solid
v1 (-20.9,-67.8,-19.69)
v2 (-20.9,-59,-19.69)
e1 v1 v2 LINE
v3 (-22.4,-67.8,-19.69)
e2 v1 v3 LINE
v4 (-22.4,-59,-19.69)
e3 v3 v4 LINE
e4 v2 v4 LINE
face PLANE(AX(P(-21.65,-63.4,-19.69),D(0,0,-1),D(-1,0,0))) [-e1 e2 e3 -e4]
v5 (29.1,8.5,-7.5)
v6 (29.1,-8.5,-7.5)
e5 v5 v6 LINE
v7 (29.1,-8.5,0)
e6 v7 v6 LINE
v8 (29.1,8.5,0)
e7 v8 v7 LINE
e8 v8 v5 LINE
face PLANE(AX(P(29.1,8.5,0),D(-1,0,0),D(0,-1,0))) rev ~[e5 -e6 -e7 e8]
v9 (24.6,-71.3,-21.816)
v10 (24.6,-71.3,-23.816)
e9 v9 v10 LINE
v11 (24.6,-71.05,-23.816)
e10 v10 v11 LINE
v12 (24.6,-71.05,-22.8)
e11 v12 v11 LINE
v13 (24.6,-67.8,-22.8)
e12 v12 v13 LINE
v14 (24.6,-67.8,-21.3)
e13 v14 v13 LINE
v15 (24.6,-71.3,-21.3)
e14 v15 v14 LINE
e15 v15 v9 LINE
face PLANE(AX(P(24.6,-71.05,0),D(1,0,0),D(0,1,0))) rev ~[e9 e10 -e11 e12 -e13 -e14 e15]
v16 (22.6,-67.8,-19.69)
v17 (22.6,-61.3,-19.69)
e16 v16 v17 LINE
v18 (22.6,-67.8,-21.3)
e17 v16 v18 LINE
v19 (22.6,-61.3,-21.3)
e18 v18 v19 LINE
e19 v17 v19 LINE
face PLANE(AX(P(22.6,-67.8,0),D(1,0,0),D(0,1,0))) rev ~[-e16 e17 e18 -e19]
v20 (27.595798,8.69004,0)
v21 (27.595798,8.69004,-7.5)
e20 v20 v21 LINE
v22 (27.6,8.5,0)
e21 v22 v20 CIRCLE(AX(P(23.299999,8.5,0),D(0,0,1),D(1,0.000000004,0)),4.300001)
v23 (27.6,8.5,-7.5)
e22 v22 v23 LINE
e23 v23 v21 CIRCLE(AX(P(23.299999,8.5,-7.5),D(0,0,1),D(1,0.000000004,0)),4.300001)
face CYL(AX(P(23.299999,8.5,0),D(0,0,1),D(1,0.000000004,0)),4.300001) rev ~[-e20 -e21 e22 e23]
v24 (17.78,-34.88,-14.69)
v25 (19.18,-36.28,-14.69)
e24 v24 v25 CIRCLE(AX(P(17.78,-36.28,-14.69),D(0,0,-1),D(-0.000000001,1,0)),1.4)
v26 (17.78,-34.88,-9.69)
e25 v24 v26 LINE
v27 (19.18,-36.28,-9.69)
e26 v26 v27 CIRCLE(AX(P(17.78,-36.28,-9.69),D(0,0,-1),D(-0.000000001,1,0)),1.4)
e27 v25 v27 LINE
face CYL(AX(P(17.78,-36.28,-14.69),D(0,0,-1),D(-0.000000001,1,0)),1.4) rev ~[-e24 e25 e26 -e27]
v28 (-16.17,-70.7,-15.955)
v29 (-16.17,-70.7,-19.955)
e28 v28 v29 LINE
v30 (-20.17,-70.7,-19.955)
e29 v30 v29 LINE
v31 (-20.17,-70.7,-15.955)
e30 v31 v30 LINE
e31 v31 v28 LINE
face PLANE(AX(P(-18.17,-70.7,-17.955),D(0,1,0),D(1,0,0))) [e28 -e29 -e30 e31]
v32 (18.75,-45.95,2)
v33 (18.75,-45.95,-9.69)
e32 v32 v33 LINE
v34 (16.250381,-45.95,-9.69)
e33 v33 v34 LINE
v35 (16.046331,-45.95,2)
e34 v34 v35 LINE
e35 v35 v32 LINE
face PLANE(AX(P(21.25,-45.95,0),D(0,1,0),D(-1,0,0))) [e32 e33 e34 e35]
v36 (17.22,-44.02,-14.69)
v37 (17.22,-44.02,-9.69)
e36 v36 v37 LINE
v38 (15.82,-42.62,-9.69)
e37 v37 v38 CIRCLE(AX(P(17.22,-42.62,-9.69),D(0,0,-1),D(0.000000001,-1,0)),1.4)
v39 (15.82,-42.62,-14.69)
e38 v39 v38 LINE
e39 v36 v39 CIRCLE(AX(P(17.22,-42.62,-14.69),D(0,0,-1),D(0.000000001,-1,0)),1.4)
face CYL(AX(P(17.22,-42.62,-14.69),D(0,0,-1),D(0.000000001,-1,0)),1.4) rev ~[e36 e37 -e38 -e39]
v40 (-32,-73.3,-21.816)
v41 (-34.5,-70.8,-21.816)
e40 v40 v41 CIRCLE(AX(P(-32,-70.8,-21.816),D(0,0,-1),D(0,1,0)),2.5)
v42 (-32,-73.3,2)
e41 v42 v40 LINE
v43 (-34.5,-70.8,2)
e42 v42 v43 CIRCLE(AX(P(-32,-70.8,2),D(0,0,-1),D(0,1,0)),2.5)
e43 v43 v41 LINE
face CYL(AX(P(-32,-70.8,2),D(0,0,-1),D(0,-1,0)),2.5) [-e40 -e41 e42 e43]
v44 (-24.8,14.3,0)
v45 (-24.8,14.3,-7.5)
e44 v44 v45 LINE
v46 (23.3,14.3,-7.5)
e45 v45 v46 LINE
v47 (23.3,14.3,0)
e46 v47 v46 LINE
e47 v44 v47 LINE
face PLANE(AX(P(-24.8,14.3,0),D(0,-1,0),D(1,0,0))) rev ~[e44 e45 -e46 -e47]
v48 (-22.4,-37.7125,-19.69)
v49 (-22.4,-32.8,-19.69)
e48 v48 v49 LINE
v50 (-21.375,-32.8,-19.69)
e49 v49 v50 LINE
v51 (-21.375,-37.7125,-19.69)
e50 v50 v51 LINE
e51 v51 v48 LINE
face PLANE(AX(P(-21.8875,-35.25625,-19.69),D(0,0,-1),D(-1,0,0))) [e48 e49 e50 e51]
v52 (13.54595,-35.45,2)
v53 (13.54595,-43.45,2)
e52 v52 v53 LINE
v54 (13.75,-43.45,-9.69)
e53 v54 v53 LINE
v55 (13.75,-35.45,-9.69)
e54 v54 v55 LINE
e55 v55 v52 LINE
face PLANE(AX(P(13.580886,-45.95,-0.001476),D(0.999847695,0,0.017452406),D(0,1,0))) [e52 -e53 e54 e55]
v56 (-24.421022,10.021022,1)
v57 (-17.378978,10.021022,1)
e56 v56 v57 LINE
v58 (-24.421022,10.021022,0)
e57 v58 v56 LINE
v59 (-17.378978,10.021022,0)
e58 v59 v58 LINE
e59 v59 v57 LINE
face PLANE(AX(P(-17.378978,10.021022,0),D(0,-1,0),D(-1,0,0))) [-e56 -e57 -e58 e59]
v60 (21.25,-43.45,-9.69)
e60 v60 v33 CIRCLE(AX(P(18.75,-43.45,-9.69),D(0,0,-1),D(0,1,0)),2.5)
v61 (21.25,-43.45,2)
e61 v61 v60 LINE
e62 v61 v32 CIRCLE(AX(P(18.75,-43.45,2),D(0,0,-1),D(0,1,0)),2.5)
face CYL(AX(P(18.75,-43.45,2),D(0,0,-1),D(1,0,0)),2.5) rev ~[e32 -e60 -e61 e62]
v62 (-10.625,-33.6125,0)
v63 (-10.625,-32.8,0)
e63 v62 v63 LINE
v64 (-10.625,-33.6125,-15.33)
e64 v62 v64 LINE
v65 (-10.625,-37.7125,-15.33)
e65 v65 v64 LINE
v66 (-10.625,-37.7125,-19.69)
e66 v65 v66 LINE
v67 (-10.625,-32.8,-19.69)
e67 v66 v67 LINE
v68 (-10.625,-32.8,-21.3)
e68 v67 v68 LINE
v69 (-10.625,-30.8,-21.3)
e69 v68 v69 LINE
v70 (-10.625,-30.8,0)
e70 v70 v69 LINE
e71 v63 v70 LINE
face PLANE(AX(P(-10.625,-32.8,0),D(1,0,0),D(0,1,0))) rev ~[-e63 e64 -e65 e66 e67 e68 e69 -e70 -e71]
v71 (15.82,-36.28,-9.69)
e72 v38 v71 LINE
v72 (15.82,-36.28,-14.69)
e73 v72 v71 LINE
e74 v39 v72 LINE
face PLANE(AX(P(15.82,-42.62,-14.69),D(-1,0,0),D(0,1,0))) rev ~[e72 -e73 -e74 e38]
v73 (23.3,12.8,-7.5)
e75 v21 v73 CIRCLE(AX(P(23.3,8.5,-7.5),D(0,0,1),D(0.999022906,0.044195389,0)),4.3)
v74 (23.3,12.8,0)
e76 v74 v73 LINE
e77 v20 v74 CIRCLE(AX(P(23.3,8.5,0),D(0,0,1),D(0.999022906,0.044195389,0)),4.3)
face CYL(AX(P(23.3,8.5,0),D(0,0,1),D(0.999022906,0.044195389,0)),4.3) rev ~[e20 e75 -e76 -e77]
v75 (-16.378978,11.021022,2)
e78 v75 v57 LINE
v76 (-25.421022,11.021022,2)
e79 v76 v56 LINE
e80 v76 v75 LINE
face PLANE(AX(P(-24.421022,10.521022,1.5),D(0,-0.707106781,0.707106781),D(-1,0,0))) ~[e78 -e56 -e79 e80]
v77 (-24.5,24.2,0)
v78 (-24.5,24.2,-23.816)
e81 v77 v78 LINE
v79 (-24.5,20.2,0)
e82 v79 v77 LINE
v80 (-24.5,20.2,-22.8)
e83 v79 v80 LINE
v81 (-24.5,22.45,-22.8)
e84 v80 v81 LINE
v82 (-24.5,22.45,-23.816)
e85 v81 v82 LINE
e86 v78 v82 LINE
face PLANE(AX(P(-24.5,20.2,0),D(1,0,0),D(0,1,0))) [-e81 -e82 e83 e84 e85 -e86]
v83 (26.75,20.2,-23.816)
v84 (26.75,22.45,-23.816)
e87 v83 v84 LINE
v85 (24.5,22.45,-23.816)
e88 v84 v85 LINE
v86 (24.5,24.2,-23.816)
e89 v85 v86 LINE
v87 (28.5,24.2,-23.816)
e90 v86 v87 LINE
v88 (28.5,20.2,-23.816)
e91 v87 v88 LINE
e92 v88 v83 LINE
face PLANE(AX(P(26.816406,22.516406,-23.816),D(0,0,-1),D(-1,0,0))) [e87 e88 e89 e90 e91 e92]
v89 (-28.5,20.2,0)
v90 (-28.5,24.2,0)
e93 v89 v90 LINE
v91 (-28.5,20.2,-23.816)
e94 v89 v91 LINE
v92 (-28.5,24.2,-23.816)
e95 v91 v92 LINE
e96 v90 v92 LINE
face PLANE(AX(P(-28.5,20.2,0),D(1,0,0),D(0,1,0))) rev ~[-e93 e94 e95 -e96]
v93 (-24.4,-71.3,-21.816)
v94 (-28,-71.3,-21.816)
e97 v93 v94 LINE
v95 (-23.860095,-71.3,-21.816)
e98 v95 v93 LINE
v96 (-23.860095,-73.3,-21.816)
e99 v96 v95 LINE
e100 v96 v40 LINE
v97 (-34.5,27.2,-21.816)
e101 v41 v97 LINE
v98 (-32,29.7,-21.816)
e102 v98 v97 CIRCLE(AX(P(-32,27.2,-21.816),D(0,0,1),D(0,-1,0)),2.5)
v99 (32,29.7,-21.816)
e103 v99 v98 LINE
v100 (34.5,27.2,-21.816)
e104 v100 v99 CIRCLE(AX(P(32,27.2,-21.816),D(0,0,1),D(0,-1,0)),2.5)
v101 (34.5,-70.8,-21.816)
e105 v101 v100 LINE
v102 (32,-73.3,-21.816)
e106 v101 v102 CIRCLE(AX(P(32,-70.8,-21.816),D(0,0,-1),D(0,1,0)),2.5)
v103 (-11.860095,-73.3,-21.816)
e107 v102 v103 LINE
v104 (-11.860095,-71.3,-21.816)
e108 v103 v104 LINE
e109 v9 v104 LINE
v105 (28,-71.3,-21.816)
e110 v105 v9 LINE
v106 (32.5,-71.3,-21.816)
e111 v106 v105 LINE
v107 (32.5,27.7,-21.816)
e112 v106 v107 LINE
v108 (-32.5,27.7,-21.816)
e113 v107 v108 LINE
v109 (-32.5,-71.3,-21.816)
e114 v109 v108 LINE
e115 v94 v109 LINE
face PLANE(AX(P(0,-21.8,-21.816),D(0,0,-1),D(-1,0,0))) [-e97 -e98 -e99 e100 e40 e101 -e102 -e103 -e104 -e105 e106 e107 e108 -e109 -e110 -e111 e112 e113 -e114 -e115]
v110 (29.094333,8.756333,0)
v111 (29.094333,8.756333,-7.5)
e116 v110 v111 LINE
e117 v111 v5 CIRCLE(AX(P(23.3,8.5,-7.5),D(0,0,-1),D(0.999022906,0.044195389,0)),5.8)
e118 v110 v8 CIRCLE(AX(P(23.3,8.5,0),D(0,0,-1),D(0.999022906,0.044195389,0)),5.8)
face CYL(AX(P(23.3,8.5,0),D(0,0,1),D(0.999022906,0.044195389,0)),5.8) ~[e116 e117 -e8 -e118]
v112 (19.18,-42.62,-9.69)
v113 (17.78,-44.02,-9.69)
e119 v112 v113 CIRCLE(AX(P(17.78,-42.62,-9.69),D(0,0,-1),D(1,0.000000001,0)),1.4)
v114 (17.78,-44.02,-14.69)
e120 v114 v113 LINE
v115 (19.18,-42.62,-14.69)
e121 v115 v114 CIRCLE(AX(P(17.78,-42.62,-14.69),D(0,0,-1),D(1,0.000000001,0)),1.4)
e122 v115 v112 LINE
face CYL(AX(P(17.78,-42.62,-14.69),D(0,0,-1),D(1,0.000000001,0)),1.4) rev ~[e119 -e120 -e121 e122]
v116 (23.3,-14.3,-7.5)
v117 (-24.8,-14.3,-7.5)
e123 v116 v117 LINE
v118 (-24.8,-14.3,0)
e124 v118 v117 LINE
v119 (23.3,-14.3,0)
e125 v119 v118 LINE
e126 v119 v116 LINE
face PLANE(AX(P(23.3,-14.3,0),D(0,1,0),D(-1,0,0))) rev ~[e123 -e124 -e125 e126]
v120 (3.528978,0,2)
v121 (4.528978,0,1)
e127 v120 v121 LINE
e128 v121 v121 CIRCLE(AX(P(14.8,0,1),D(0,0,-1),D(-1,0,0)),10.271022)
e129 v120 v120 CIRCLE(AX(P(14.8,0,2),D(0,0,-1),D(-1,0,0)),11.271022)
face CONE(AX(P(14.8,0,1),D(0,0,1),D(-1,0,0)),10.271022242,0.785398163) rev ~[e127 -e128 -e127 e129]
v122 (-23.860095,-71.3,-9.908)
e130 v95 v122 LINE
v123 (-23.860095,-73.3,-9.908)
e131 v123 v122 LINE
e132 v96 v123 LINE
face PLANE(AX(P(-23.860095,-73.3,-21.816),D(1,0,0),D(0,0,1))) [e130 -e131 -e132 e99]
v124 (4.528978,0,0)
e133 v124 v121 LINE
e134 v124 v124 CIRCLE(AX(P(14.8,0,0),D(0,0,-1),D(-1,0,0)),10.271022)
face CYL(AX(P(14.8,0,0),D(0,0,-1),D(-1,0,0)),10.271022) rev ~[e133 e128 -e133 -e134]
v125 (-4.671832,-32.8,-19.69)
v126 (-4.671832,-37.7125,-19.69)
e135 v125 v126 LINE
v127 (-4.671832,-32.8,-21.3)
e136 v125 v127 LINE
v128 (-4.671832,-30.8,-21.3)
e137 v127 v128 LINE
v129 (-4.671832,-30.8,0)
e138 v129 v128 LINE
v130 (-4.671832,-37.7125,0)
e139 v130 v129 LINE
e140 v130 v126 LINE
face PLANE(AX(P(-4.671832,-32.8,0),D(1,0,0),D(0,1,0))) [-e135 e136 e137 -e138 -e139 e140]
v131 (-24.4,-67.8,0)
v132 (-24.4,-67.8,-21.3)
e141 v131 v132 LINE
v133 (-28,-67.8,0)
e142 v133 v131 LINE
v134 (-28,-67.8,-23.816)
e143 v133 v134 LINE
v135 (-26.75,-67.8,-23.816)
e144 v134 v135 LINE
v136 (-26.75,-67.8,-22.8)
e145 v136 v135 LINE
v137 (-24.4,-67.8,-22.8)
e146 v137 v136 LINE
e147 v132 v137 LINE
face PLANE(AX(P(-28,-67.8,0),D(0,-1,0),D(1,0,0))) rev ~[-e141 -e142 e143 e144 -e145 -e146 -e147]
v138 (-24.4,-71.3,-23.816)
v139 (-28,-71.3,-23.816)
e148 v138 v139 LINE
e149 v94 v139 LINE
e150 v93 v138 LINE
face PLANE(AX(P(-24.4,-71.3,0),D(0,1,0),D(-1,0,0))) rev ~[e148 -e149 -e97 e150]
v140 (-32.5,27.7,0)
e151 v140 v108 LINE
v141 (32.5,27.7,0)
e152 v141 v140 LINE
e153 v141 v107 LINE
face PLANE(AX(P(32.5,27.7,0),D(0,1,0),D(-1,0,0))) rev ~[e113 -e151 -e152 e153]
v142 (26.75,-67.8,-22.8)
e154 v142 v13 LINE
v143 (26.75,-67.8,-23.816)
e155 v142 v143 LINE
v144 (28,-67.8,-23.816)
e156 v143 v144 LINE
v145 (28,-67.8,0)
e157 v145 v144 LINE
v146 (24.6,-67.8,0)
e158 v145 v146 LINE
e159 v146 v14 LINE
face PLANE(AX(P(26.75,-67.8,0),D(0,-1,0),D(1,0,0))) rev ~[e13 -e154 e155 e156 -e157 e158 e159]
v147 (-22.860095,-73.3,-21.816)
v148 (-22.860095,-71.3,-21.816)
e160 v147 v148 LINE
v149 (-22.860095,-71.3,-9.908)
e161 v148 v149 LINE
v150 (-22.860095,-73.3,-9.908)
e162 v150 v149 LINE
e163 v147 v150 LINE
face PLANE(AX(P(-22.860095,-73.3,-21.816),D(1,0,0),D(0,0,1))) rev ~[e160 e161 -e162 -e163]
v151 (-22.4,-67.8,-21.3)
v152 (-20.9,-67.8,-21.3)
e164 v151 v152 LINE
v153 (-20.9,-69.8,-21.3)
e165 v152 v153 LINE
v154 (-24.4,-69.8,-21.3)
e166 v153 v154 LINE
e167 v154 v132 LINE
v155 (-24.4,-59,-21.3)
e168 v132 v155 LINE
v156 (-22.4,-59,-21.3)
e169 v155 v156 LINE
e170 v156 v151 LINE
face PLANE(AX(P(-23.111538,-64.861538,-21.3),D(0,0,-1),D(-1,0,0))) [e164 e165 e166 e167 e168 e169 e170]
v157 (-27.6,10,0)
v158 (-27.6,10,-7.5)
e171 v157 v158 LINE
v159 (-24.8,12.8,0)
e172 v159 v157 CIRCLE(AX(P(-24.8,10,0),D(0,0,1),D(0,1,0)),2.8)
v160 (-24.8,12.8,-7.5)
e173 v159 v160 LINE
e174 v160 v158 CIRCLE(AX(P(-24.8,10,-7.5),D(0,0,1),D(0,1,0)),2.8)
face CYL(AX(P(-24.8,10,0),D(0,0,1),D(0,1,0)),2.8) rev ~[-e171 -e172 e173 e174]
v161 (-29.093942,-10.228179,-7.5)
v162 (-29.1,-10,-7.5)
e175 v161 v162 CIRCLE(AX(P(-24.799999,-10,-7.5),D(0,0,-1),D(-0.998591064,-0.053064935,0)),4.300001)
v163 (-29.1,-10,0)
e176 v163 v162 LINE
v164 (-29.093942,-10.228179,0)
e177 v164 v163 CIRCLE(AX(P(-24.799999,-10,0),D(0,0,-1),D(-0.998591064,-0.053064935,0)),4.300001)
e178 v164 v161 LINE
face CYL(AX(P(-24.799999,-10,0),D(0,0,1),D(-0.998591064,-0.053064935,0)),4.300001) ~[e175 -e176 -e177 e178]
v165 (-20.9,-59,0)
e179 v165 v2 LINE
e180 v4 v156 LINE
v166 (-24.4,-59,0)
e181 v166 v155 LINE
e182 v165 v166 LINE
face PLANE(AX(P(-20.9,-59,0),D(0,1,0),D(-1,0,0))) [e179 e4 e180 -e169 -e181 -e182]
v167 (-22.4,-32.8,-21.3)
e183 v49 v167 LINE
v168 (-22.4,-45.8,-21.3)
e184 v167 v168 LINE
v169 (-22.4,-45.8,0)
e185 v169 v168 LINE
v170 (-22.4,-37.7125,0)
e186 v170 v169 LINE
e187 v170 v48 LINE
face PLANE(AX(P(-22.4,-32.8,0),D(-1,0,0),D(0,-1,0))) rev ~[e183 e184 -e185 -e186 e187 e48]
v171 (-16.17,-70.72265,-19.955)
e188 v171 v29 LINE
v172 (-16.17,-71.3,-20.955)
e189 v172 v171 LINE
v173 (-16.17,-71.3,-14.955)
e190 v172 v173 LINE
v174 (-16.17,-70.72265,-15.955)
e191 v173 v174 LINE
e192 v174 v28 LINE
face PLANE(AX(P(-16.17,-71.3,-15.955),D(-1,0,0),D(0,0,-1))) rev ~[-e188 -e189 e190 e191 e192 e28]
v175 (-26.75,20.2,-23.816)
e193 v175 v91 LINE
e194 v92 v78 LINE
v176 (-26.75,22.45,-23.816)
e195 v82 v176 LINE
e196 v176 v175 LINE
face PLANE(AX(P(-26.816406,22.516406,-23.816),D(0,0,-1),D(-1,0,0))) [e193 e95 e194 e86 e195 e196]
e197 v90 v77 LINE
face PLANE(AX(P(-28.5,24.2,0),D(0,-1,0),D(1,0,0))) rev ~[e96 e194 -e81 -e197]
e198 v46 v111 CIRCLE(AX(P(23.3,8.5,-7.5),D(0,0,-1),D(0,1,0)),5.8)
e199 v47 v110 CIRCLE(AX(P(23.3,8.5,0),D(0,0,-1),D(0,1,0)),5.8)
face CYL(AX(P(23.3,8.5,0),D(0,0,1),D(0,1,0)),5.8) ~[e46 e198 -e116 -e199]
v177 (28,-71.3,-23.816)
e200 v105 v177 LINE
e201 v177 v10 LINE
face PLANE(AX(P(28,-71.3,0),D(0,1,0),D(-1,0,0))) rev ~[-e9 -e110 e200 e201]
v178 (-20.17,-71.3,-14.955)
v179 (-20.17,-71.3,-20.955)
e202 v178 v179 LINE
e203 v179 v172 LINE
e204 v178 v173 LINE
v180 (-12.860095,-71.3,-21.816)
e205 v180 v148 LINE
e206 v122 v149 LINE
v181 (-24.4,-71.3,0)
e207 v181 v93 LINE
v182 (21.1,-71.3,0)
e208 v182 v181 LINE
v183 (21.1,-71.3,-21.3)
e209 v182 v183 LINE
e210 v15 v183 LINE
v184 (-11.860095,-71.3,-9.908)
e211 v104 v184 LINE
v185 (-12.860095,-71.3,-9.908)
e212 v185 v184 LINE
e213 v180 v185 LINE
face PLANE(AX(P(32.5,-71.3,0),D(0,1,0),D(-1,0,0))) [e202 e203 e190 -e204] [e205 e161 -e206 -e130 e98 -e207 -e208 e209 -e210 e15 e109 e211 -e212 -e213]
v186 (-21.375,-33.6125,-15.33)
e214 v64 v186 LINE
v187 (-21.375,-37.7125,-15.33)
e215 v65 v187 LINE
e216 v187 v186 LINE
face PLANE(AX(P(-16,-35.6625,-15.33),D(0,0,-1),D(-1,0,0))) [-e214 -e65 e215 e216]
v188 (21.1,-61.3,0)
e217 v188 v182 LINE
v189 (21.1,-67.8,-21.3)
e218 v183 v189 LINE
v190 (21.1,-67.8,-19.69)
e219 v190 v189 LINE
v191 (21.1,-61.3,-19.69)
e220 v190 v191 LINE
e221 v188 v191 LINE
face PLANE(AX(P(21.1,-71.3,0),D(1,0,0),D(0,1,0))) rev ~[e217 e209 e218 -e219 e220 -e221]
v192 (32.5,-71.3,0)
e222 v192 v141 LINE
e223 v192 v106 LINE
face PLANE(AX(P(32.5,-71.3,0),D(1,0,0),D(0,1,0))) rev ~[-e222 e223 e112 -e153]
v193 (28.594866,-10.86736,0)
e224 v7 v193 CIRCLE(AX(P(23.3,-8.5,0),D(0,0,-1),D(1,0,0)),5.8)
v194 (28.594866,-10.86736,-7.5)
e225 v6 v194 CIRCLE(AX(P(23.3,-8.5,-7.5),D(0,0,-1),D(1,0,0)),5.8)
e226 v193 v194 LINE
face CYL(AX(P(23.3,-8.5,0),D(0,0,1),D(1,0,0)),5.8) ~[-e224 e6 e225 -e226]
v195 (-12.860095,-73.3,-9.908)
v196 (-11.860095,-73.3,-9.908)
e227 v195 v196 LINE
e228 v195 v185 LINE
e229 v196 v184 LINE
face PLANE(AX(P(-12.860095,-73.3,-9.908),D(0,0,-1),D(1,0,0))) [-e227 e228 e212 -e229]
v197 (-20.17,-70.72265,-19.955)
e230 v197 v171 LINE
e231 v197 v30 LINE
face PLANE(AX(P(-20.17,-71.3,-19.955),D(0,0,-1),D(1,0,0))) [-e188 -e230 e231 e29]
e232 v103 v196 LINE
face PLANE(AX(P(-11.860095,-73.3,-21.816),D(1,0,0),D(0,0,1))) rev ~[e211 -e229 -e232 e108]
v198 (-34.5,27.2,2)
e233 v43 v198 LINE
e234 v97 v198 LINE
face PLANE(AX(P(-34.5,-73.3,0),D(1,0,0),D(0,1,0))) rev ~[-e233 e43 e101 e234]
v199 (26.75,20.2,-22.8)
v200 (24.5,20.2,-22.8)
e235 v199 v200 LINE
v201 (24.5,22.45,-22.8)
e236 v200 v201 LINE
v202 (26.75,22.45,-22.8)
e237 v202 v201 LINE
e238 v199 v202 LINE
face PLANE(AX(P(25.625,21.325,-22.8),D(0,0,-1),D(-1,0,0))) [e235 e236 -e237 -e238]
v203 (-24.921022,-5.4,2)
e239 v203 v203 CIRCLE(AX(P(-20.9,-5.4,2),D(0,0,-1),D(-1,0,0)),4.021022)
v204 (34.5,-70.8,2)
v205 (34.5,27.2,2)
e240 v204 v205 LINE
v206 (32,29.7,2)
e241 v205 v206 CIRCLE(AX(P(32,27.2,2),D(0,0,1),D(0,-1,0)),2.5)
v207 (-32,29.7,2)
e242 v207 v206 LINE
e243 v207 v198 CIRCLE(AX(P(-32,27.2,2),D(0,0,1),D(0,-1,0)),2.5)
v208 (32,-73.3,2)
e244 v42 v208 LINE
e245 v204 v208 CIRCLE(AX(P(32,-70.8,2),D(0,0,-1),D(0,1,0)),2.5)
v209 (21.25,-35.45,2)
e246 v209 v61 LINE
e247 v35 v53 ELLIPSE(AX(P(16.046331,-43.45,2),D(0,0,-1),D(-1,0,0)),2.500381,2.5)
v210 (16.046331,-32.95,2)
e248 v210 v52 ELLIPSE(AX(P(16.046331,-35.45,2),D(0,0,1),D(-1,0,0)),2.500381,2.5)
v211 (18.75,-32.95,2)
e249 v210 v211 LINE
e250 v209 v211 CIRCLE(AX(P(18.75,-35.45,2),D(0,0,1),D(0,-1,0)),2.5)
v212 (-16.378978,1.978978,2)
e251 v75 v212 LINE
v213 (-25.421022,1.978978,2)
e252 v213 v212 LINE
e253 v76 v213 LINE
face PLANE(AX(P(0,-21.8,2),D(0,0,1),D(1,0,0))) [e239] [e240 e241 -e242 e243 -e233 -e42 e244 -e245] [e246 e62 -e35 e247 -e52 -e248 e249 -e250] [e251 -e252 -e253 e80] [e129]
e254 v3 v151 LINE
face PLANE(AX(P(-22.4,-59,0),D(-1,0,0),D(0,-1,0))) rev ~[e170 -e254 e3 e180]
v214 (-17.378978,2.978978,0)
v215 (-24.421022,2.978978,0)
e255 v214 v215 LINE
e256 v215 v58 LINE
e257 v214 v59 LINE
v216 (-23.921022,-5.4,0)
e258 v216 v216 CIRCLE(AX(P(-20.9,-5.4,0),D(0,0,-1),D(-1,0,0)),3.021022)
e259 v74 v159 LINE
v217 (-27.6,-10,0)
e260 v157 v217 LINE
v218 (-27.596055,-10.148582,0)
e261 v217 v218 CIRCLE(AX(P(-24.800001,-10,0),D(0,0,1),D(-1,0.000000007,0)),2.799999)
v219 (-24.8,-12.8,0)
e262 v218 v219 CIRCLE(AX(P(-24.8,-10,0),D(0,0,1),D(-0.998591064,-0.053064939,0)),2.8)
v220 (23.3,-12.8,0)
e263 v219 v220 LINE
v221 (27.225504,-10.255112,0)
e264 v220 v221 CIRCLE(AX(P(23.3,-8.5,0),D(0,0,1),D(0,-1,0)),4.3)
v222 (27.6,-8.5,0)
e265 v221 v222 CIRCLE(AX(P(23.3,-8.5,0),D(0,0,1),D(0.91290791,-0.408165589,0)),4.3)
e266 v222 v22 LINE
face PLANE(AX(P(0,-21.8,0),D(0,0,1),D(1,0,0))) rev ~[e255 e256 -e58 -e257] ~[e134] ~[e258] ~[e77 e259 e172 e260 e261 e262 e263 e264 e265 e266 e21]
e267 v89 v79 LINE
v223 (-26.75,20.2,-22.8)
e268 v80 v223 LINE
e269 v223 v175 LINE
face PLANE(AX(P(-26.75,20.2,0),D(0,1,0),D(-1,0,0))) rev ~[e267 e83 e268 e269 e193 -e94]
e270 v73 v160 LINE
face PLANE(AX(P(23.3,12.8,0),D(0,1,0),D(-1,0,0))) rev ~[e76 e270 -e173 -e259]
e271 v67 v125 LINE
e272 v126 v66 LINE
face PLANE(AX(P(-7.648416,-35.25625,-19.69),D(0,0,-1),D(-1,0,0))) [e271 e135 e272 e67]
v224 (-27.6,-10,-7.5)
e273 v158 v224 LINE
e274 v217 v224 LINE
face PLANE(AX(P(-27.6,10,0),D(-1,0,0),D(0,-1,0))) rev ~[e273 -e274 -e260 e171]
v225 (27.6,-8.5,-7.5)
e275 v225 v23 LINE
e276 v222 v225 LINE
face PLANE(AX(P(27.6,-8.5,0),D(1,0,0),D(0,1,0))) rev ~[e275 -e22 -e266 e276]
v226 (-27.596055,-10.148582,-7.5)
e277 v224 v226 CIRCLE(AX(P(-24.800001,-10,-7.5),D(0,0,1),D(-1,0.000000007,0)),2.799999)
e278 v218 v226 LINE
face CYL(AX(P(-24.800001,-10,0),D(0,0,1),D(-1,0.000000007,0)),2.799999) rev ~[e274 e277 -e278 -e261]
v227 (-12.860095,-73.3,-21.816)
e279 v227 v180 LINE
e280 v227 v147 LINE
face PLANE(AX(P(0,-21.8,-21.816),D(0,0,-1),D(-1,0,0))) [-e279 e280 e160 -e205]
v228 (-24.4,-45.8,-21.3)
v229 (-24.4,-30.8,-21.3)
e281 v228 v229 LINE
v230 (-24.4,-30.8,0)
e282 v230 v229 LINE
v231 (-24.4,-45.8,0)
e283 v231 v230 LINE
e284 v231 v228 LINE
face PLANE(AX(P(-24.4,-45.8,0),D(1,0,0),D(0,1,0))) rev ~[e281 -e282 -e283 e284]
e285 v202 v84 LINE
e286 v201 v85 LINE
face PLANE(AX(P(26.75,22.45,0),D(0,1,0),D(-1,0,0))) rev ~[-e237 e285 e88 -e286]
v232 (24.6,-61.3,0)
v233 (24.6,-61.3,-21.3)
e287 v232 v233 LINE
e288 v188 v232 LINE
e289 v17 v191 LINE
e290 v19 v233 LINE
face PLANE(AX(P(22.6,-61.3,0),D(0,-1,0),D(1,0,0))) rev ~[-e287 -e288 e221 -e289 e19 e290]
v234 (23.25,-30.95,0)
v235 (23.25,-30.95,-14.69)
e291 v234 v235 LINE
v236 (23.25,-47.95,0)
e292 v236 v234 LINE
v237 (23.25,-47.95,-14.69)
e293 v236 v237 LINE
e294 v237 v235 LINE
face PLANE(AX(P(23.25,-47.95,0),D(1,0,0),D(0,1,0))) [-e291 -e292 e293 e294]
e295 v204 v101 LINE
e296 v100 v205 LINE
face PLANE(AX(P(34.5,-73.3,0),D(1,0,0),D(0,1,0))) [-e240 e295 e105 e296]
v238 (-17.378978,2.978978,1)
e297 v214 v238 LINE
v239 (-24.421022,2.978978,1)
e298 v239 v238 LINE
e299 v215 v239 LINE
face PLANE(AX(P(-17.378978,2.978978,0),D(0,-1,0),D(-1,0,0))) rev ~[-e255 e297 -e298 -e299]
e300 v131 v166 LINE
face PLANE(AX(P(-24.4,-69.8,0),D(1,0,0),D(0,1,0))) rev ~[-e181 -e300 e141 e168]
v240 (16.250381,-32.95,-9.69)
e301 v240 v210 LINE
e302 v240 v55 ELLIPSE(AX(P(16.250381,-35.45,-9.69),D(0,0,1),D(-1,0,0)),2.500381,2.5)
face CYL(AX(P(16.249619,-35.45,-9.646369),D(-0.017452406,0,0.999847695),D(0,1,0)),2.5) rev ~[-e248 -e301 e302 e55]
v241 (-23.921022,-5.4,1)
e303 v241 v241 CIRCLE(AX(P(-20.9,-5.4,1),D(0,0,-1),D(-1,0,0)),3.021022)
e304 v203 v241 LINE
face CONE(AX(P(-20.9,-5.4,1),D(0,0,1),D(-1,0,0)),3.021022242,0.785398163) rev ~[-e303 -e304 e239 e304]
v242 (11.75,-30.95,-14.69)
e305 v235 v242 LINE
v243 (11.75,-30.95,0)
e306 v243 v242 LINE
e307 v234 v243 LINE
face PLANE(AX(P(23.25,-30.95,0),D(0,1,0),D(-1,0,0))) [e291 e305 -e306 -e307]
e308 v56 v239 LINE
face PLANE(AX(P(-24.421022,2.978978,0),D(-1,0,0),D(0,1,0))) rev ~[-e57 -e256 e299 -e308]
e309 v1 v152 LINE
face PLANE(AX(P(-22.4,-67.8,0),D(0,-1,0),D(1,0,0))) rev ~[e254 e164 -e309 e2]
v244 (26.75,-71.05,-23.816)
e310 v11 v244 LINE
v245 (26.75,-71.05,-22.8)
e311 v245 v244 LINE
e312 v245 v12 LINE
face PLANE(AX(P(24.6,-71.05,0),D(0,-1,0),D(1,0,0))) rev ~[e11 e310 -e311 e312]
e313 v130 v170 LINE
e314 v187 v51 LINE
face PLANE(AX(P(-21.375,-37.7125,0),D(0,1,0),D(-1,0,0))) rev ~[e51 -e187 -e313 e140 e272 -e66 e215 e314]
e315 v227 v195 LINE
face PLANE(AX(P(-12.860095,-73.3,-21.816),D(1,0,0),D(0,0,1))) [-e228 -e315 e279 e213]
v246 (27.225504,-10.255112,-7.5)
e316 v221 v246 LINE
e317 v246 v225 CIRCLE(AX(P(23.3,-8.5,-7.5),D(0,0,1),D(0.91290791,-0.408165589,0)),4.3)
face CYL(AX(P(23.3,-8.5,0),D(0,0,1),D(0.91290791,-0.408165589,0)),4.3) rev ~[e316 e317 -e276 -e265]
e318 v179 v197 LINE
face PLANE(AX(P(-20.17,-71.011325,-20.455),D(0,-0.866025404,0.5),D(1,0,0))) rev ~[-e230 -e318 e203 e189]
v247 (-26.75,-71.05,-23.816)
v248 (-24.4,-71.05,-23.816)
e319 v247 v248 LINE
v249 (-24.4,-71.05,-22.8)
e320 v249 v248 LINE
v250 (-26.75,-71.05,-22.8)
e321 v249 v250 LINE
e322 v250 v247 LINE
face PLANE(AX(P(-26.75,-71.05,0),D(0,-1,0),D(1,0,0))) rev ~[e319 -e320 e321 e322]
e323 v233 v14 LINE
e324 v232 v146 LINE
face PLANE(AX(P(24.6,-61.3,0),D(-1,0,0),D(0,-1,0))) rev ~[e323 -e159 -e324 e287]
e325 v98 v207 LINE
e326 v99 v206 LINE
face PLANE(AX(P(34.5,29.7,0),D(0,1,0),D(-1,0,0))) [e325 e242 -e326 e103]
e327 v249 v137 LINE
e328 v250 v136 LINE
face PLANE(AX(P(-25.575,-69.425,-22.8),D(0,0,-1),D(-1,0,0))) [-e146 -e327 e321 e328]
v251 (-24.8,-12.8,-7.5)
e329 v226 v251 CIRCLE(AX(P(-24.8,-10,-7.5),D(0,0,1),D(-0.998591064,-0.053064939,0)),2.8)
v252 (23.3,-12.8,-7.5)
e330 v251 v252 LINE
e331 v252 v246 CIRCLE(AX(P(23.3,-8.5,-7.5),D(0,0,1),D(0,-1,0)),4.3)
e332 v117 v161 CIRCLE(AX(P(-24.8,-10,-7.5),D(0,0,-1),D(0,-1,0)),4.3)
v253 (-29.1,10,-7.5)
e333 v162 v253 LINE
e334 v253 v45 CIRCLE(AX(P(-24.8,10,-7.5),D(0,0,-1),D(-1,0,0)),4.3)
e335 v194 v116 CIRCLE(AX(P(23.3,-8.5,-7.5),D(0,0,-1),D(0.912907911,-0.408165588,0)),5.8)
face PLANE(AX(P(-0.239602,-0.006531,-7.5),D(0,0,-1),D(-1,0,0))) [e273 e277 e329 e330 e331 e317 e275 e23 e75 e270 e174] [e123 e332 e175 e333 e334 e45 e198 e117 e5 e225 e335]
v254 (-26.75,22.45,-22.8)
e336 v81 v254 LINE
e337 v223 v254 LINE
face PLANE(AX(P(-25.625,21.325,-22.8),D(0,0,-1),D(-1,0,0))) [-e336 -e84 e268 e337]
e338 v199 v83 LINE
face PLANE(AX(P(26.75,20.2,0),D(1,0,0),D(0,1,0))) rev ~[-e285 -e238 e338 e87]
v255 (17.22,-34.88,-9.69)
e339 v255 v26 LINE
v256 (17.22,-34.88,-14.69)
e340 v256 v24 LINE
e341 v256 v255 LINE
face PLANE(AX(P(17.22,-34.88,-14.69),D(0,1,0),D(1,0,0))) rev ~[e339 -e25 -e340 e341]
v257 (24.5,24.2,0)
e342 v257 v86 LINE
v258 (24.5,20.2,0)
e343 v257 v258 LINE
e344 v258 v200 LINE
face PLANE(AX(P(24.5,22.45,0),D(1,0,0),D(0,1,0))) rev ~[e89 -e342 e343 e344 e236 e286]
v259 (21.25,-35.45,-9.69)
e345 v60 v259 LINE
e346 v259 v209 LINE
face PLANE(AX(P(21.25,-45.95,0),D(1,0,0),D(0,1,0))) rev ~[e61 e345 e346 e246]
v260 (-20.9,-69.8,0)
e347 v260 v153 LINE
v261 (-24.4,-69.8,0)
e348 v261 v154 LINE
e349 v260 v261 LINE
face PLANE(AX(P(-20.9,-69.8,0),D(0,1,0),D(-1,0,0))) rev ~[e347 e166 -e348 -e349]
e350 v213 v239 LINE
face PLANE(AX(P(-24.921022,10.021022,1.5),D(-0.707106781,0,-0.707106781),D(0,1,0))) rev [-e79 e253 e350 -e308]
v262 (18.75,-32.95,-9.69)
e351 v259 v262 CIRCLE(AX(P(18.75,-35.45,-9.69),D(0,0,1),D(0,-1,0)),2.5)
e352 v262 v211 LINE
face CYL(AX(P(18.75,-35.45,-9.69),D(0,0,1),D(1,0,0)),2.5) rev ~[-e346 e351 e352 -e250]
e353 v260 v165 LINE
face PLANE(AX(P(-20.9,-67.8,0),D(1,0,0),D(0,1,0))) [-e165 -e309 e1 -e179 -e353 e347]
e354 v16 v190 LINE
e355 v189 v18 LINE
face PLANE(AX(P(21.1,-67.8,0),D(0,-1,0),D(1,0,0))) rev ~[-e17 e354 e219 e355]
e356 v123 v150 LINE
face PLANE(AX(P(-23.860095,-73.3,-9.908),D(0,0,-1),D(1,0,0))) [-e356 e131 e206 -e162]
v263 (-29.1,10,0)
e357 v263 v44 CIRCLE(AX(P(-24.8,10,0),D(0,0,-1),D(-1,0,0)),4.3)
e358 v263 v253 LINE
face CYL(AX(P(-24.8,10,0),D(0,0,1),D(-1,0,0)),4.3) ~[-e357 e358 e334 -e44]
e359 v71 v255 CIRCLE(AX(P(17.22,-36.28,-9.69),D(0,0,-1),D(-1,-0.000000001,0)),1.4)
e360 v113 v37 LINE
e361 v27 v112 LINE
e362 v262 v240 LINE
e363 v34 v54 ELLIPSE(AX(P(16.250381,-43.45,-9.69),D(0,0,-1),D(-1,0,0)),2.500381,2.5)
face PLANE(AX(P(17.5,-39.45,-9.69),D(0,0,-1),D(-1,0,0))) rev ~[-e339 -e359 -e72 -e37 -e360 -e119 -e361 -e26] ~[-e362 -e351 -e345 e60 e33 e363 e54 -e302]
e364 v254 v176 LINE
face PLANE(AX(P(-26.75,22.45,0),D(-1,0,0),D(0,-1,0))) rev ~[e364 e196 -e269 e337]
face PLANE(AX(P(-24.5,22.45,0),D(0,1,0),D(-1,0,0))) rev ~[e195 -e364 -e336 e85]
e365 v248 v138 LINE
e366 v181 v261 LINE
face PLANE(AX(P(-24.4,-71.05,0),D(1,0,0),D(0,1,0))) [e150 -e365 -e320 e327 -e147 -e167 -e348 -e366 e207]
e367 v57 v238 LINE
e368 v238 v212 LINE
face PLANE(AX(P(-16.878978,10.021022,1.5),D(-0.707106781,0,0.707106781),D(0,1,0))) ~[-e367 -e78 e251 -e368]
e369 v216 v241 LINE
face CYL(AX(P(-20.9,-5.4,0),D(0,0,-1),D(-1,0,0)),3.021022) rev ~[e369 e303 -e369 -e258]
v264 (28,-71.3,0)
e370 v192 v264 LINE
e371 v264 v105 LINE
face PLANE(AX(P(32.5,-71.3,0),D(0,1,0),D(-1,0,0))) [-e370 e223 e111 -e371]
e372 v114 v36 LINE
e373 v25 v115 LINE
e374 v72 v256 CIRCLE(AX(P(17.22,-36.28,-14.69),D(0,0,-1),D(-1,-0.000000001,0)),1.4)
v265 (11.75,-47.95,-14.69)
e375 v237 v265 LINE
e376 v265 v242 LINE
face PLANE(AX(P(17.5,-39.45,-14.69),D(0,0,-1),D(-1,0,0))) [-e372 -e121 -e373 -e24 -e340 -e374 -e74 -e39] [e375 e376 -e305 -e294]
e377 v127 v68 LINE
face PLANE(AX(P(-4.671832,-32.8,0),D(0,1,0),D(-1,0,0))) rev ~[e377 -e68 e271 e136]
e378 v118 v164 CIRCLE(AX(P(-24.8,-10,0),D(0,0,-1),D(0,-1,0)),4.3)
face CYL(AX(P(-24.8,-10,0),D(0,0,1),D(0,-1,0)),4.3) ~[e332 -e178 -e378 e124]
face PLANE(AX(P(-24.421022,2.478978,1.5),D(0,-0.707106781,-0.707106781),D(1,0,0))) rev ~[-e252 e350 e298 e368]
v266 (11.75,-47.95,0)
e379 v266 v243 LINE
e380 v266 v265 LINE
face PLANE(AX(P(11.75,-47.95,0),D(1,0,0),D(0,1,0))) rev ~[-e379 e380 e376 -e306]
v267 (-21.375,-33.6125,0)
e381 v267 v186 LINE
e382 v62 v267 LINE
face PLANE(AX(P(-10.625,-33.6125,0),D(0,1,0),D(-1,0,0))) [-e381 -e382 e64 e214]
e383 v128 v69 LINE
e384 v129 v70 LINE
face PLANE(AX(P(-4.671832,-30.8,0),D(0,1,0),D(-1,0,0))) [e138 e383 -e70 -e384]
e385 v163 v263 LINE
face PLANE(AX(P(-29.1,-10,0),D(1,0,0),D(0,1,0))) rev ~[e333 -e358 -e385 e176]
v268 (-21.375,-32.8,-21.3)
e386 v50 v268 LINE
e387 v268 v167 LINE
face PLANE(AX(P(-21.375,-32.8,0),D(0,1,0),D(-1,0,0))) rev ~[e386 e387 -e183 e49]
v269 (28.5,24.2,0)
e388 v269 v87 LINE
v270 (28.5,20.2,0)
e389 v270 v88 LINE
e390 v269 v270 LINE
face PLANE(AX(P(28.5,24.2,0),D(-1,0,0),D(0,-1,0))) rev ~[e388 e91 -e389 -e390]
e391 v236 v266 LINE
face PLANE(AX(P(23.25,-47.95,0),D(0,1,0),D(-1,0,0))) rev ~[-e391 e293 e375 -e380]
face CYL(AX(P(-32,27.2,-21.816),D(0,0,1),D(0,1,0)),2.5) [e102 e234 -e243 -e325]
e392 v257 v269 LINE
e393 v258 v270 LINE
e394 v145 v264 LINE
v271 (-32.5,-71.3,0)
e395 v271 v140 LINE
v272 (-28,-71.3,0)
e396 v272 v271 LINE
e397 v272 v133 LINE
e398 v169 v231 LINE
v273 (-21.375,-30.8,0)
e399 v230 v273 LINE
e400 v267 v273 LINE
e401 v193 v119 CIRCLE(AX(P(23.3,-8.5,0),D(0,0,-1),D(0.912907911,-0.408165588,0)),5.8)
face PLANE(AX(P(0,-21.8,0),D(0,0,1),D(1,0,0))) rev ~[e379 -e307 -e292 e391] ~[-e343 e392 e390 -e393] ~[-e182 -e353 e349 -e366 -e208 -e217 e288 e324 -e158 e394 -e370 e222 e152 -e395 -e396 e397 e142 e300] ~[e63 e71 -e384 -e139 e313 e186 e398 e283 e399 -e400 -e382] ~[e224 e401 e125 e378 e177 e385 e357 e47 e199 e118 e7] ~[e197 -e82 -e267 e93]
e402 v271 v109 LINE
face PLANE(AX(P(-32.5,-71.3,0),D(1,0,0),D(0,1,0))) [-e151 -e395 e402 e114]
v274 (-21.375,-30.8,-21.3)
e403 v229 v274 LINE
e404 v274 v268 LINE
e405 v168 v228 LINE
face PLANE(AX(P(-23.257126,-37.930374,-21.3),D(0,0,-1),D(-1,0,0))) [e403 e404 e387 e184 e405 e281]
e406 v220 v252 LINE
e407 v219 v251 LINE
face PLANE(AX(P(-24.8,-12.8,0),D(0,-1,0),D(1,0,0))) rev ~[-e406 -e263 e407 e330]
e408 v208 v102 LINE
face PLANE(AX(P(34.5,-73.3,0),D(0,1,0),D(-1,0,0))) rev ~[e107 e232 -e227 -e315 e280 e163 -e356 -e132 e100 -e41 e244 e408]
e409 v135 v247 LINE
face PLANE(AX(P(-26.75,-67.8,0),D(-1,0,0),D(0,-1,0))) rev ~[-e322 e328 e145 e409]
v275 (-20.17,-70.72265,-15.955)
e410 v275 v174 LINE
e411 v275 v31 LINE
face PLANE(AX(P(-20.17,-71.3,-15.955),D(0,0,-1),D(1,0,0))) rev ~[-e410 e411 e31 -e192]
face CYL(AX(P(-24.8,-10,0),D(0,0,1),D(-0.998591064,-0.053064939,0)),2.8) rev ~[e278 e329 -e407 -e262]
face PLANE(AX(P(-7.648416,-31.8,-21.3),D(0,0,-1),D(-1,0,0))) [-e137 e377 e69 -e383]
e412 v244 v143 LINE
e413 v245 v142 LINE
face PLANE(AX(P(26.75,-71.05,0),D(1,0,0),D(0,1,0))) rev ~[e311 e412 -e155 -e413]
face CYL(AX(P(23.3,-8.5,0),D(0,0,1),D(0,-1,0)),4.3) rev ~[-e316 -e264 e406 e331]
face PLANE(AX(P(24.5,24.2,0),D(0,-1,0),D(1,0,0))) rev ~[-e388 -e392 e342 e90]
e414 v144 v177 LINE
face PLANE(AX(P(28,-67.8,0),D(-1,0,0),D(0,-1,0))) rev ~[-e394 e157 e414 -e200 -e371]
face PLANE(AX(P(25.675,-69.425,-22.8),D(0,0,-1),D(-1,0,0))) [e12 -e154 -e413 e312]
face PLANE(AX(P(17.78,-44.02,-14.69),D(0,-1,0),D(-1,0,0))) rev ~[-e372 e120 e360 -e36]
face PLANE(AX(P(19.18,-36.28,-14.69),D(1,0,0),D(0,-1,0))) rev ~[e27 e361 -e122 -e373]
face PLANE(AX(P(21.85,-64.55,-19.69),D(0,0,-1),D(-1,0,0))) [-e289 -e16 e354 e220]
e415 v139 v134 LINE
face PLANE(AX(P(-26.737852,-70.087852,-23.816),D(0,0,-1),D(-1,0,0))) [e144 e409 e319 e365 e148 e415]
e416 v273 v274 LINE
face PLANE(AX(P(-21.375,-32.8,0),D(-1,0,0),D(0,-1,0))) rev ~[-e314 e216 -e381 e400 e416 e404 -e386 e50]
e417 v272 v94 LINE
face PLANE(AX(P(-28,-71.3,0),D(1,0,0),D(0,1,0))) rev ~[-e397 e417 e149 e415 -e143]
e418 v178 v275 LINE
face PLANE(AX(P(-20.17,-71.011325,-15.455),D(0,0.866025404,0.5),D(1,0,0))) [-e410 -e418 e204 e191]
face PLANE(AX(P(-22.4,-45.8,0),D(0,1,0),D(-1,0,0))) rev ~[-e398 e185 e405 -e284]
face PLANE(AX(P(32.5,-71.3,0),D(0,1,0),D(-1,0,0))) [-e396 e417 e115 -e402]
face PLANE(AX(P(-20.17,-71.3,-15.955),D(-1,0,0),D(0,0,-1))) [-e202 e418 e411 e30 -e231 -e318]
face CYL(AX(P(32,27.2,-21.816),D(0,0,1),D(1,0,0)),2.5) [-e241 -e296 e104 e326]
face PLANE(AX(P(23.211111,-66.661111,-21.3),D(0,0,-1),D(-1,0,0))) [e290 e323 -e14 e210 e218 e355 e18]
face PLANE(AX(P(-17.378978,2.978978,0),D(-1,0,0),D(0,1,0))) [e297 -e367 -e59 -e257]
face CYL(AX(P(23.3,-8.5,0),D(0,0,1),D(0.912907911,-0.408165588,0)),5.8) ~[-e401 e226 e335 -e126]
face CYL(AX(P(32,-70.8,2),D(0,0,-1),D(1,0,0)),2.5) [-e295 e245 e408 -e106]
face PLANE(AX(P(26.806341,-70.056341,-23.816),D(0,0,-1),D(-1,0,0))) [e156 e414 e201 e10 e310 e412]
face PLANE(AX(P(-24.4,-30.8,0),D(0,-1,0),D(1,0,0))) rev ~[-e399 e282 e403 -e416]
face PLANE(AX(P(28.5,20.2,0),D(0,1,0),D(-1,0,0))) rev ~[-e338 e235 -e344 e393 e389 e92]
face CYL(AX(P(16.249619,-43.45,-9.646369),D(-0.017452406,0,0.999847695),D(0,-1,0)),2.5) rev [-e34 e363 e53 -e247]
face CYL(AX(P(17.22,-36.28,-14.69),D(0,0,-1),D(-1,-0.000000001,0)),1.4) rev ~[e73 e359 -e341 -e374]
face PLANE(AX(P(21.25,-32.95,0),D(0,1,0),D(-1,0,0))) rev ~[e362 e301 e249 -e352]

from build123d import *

# Parameters (mm, degrees)
SKETCH2_W            = 69
SKETCH2_H            = 103
BOSS_EXTRUDE1_DEPTH  = 2
SKETCH3_W            = 69
SKETCH3_H            = 103
SKETCH3_W_2          = 65
SKETCH3_H_2          = 99
BOSS_EXTRUDE2_DEPTH  = 21.816
BOSS_EXTRUDE3_DEPTH  = 7.5
SKETCH7_R            = 10.271022242
SKETCH7_R_2          = 3.021022242
SKETCH7_W            = 7.042044484
SKETCH7_H            = 7.042044484
CUT_EXTRUDE1_DEPTH   = 84.899212487
SKETCH9_W            = 1.5
SKETCH9_H            = 6.5
SKETCH9_H_2          = 8.8
BOSS_EXTRUDE4_DEPTH  = 19.69
BOSS_EXTRUDE5_DEPTH  = 21.3
SKETCH10_W           = 10.75
SKETCH10_H           = 4.1
BOSS_EXTRUDE6_DEPTH  = 15.33
BOSS_EXTRUDE7_DEPTH  = 19.69
SKETCH10_6_W         = 5.953168401
SKETCH10_6_H         = 2
BOSS_EXTRUDE8_DEPTH  = 21.3
SKETCH11_W           = 7.5
SKETCH11_H           = 13
CUT_EXTRUDE2_DEPTH   = 84.899212487
FILLET2_R            = 2.5
CHAMFER1_SIZE        = 1
CUT_EXTRUDE3_REACH   = 112.793
SKETCH12_W           = 1
SKETCH12_H           = 11.908
SKETCH13_W           = 11.5
SKETCH13_H           = 17
SKETCH13_W_2         = 7.5
SKETCH13_H_2         = 13
BOSS_EXTRUDE9_DEPTH  = 14.69
SKETCH14_W           = 7.5
SKETCH14_H           = 13
BOSS_EXTRUDE10_DEPTH = 5
DRAFT1_ANGLE         = 1
FILLET3_R            = 2.5
SKETCH15_W           = 4
SKETCH15_H           = 4
BOSS_EXTRUDE11_DEPTH = 0.6
CHAMFER3_SIZE        = 1
CHAMFER3_SIZE2       = 0.577350269
CHAMFER4_SIZE        = 1
CHAMFER4_SIZE2       = 0.577350269
SKETCH16_W           = 2.35
SKETCH16_H           = 3.25
SKETCH16_W_2         = 2.15
SKETCH16_W_3         = 2.25
SKETCH16_H_2         = 2.25
BOSS_EXTRUDE12_DEPTH = 22.8
BOSS_EXTRUDE13_DEPTH = 23.816


with BuildPart() as part:
    # Sketch2 → Boss-Extrude1 (new body)
    with BuildSketch(Plane.XY):
        with Locations((0, -21.8)):
            Rectangle(SKETCH2_W, SKETCH2_H)
    extrude(amount=BOSS_EXTRUDE1_DEPTH)

    # Sketch3 → Boss-Extrude2 (add)
    with BuildSketch(Plane(origin=(0, 0, 0), x_dir=(-1, 0, 0), z_dir=(0, 0, -1))):
        with Locations((0, -21.8)):
            Rectangle(SKETCH3_W, SKETCH3_H)
        with Locations((0, -21.8)):
            Rectangle(SKETCH3_W_2, SKETCH3_H_2, mode=Mode.SUBTRACT)
    extrude(amount=BOSS_EXTRUDE2_DEPTH)

    # Sketch4 → Boss-Extrude3 (add)
    with BuildSketch(Plane(origin=(0, 0, 0), x_dir=(-1, 0, 0), z_dir=(0, 0, -1))):
        with BuildLine():
            Line((29.1, -10), (29.1, -8.439131361))
            Line((29.1, -8.439131361), (29.1, -7.690100036))
            Line((29.1, -7.690100036), (29.1, -6.395046928))
            Line((29.1, -6.395046928), (29.1, -1.888728371))
            Line((29.1, -1.888728371), (29.1, -0.762895346))
            Line((29.1, -0.762895346), (29.1, 3.740436753))
            Line((29.1, 3.740436753), (29.1, 8.676781555))
            Line((29.1, 8.676781555), (29.1, 10))
            ThreePointArc((29.1, 10), (27.840559159, 13.040559159), (24.8, 14.3))
            Line((24.8, 14.3), (16.963486262, 14.3))
            Line((16.963486262, 14.3), (14.426316186, 14.3))
            Line((14.426316186, 14.3), (11.750363034, 14.3))
            Line((11.750363034, 14.3), (8.649377385, 14.3))
            Line((8.649377385, 14.3), (-2.251077026, 14.3))
            Line((-2.251077026, 14.3), (-4.779023688, 14.3))
            Line((-4.779023688, 14.3), (-12.46242881, 14.3))
            Line((-12.46242881, 14.3), (-14.530748807, 14.3))
            Line((-14.530748807, 14.3), (-23.3, 14.3))
            ThreePointArc((-23.3, 14.3), (-27.309567753, 12.690867027), (-29.094332857, 8.756333254))
            ThreePointArc((-29.094332857, 8.756333254), (-29.098583041, 8.628197946), (-29.1, 8.5))
            Line((-29.1, 8.5), (-29.1, 3.740436753))
            Line((-29.1, 3.740436753), (-29.1, -0.762895346))
            Line((-29.1, -0.762895346), (-29.1, -1.888728371))
            Line((-29.1, -1.888728371), (-29.1, -6.395046928))
            Line((-29.1, -6.395046928), (-29.1, -7.690100036))
            Line((-29.1, -7.690100036), (-29.1, -8.439131361))
            Line((-29.1, -8.439131361), (-29.1, -8.5))
            ThreePointArc((-29.1, -8.5), (-28.97231091, -9.710325965), (-28.594865883, -10.867360405))
            ThreePointArc((-28.594865883, -10.867360405), (-26.455099812, -13.366759206), (-23.3, -14.3))
            Line((-23.3, -14.3), (-14.530748807, -14.3))
            Line((-14.530748807, -14.3), (-12.46242881, -14.3))
            Line((-12.46242881, -14.3), (-4.779023688, -14.3))
            Line((-4.779023688, -14.3), (-2.251077026, -14.3))
            Line((-2.251077026, -14.3), (8.649377385, -14.3))
            Line((8.649377385, -14.3), (11.750363034, -14.3))
            Line((11.750363034, -14.3), (14.426316186, -14.3))
            Line((14.426316186, -14.3), (16.963486262, -14.3))
            Line((16.963486262, -14.3), (24.8, -14.3))
            ThreePointArc((24.8, -14.3), (27.758786007, -13.120189956), (29.093941573, -10.228179239))
            ThreePointArc((29.093941573, -10.228179239), (29.098485126, -10.114129827), (29.1, -10))
        make_face()
        with BuildLine():
            Line((24.8, -12.8), (16.963486262, -12.8))
            Line((16.963486262, -12.8), (14.426316186, -12.8))
            Line((14.426316186, -12.8), (11.750363034, -12.8))
            Line((11.750363034, -12.8), (8.649377385, -12.8))
            Line((8.649377385, -12.8), (-2.251077026, -12.8))
            Line((-2.251077026, -12.8), (-4.779023688, -12.8))
            Line((-4.779023688, -12.8), (-12.46242881, -12.8))
            Line((-12.46242881, -12.8), (-14.530748807, -12.8))
            Line((-14.530748807, -12.8), (-23.3, -12.8))
            ThreePointArc((-23.3, -12.8), (-25.639125723, -12.108114584), (-27.225504016, -10.255112024))
            ThreePointArc((-27.225504016, -10.255112024), (-27.505333951, -9.397310629), (-27.6, -8.5))
            Line((-27.6, -8.5), (-27.6, -8.439131361))
            Line((-27.6, -8.439131361), (-27.6, -7.690100036))
            Line((-27.6, -7.690100036), (-27.6, -6.395046928))
            Line((-27.6, -6.395046928), (-27.6, -1.888728371))
            Line((-27.6, -1.888728371), (-27.6, -0.762895346))
            Line((-27.6, -0.762895346), (-27.6, 3.740436753))
            Line((-27.6, 3.740436753), (-27.6, 8.5))
            ThreePointArc((-27.6, 8.5), (-27.598949496, 8.595043305), (-27.595798498, 8.690040171))
            ThreePointArc((-27.595798498, 8.690040171), (-26.272610575, 11.607022106), (-23.3, 12.8))
            Line((-23.3, 12.8), (-14.530748807, 12.8))
            Line((-14.530748807, 12.8), (-12.46242881, 12.8))
            Line((-12.46242881, 12.8), (-4.779023688, 12.8))
            Line((-4.779023688, 12.8), (-2.251077026, 12.8))
            Line((-2.251077026, 12.8), (8.649377385, 12.8))
            Line((8.649377385, 12.8), (11.750363034, 12.8))
            Line((11.750363034, 12.8), (14.426316186, 12.8))
            Line((14.426316186, 12.8), (16.963486262, 12.8))
            Line((16.963486262, 12.8), (24.8, 12.8))
            ThreePointArc((24.8, 12.8), (26.779898987, 11.979898987), (27.6, 10))
            Line((27.6, 10), (27.6, 8.676781555))
            Line((27.6, 8.676781555), (27.6, 3.740436753))
            Line((27.6, 3.740436753), (27.6, -0.762895346))
            Line((27.6, -0.762895346), (27.6, -1.888728371))
            Line((27.6, -1.888728371), (27.6, -6.395046928))
            Line((27.6, -6.395046928), (27.6, -7.690100036))
            Line((27.6, -7.690100036), (27.6, -8.439131361))
            Line((27.6, -8.439131361), (27.6, -10))
            ThreePointArc((27.6, -10), (27.599013571, -10.074317097), (27.596054978, -10.14858183))
            ThreePointArc((27.596054978, -10.14858183), (26.726651354, -12.031751599), (24.8, -12.8))
        make_face(mode=Mode.SUBTRACT)
    extrude(amount=BOSS_EXTRUDE3_DEPTH)

    # Sketch7 → Cut-Extrude1 (cut, through all)
    with BuildSketch(Plane(origin=(0, 0, 0), x_dir=(-1, 0, 0), z_dir=(0, 0, -1))):
        with Locations((-14.8, 0)):
            Circle(SKETCH7_R)
        with Locations((20.9, -5.4)):
            Circle(SKETCH7_R_2)
        with Locations((20.9, 6.5)):
            Rectangle(SKETCH7_W, SKETCH7_H)
    extrude(amount=-CUT_EXTRUDE1_DEPTH, mode=Mode.SUBTRACT)

    # Sketch9 → Boss-Extrude4 (add)
    with BuildSketch(Plane(origin=(0, 0, 0), x_dir=(-1, 0, 0), z_dir=(0, 0, -1))):
        with Locations((-21.85, -64.55)):
            Rectangle(SKETCH9_W, SKETCH9_H)
        with Locations((21.65, -63.4)):
            Rectangle(SKETCH9_W, SKETCH9_H_2)
    extrude(amount=BOSS_EXTRUDE4_DEPTH)

    # Sketch9<4> → Boss-Extrude5 (add)
    with BuildSketch(Plane(origin=(0, 0, 0), x_dir=(-1, 0, 0), z_dir=(0, 0, -1))):
        Polygon((-24.6, -61.3), (-24.6, -71.3), (-21.1, -71.3), (-21.1, -67.8), (-22.6, -67.8), (-22.6, -61.3), align=None)
        Polygon((20.9, -69.8), (24.4, -69.8), (24.4, -59), (22.4, -59), (22.4, -67.8), (20.9, -67.8), align=None)
    extrude(amount=BOSS_EXTRUDE5_DEPTH)

    # Sketch10 → Boss-Extrude6 (add)
    with BuildSketch(Plane(origin=(0, 0, 0), x_dir=(-1, 0, 0), z_dir=(0, 0, -1))):
        with Locations((16, -35.6625)):
            Rectangle(SKETCH10_W, SKETCH10_H)
    extrude(amount=BOSS_EXTRUDE6_DEPTH)

    # Sketch10<4> → Boss-Extrude7 (add)
    with BuildSketch(Plane(origin=(0, 0, 0), x_dir=(-1, 0, 0), z_dir=(0, 0, -1))):
        Polygon((21.375, -37.7125), (22.4, -37.7125), (22.4, -32.8), (21.375, -32.8), (21.375, -33.6125), align=None)
        Polygon((4.671831599, -37.7125), (10.625, -37.7125), (10.625, -33.6125), (10.625, -32.8), (4.671831599, -32.8), align=None)
    extrude(amount=BOSS_EXTRUDE7_DEPTH)

    # Sketch10<6> → Boss-Extrude8 (add)
    with BuildSketch(Plane(origin=(0, 0, 0), x_dir=(-1, 0, 0), z_dir=(0, 0, -1))):
        with Locations((7.6484158, -31.8)):
            Rectangle(SKETCH10_6_W, SKETCH10_6_H)
        Polygon((22.4, -37.7125), (22.4, -45.8), (24.4, -45.8), (24.4, -30.8), (21.375, -30.8), (21.375, -32.8), (22.4, -32.8), align=None)
    extrude(amount=BOSS_EXTRUDE8_DEPTH)

    # Sketch11 → Cut-Extrude2 (cut, through all)
    with BuildSketch(Plane(origin=(0, 0, 0), x_dir=(-1, 0, 0), z_dir=(0, 0, -1))):
        with Locations((-17.5, -39.45)):
            Rectangle(SKETCH11_W, SKETCH11_H)
    extrude(amount=-CUT_EXTRUDE2_DEPTH, mode=Mode.SUBTRACT)

    # Fillet2
    fillet2_edges = [part.edges().sort_by_distance(p)[0] for p in [
        (-34.5, 29.7, -9.908),
        (34.5, 29.7, -9.908),
        (34.5, -73.3, -9.908),
        (-34.5, -73.3, -9.908),
    ]]
    fillet(fillet2_edges, radius=FILLET2_R)

    # Chamfer1
    chamfer1_edges = [part.edges().sort_by_distance(p)[0] for p in [
        (25.071022242, 0, 2),
        (-17.878977758, -5.4, 2),
        (-24.421022242, 6.5, 2),
        (-20.9, 2.978977758, 2),
        (-17.378977758, 6.5, 2),
        (-20.9, 10.021022242, 2),
    ]]
    chamfer(chamfer1_edges, length=CHAMFER1_SIZE)

    # Sketch12 → Cut-Extrude3 (cut, up to next)
    with BuildSketch(Plane.XZ.offset(73.3), mode=Mode.PRIVATE) as cut_extrude3_sk1:
        with Locations((-23.360094853, -15.862)):
            Rectangle(SKETCH12_W, SKETCH12_H)
    cut_extrude3_tool1 = extrude(cut_extrude3_sk1.sketch, amount=-CUT_EXTRUDE3_REACH, mode=Mode.PRIVATE) & part.part
    # Sketch12 → Cut-Extrude3 (cut, up to next)
    with BuildSketch(Plane.XZ.offset(73.3), mode=Mode.PRIVATE) as cut_extrude3_sk2:
        with Locations((-12.360094853, -15.862)):
            Rectangle(SKETCH12_W, SKETCH12_H)
    cut_extrude3_tool2 = extrude(cut_extrude3_sk2.sketch, amount=-CUT_EXTRUDE3_REACH, mode=Mode.PRIVATE) & part.part
    add(cut_extrude3_tool1.solids().sort_by_distance((-23.360095, -73.3, -15.862))[0], mode=Mode.SUBTRACT)
    add(cut_extrude3_tool2.solids().sort_by_distance((-12.360095, -73.3, -15.862))[0], mode=Mode.SUBTRACT)

    # Sketch13 → Boss-Extrude9 (add)
    with BuildSketch(Plane(origin=(0, 0, 0), x_dir=(-1, 0, 0), z_dir=(0, 0, -1))):
        with Locations((-17.5, -39.45)):
            Rectangle(SKETCH13_W, SKETCH13_H)
        with Locations((-17.5, -39.45)):
            Rectangle(SKETCH13_W_2, SKETCH13_H_2, mode=Mode.SUBTRACT)
    extrude(amount=BOSS_EXTRUDE9_DEPTH)

    # Sketch14 → Boss-Extrude10 (add)
    # profile 1 of 2: a face of its own
    with BuildSketch(Plane(origin=(0, 0, -14.69), x_dir=(-1, 0, 0), z_dir=(0, 0, -1))):
        with Locations((-17.5, -39.45)):
            Rectangle(SKETCH14_W, SKETCH14_H)
        with BuildLine():
            Line((-17.22, -34.88), (-17.78, -34.88))
            ThreePointArc((-17.78, -34.88), (-18.769949494, -35.290050506), (-19.18, -36.28))
            Line((-19.18, -36.28), (-19.18, -42.62))
            ThreePointArc((-19.18, -42.62), (-18.769949494, -43.609949494), (-17.78, -44.02))
            Line((-17.78, -44.02), (-17.22, -44.02))
            ThreePointArc((-17.22, -44.02), (-16.230050506, -43.609949494), (-15.82, -42.62))
            Line((-15.82, -42.62), (-15.82, -36.28))
            ThreePointArc((-15.82, -36.28), (-16.230050506, -35.290050506), (-17.22, -34.88))
        make_face(mode=Mode.SUBTRACT)
    # profile 2 of 2: a face of its own
    with BuildSketch(Plane(origin=(0, 0, -14.69), x_dir=(-1, 0, 0), z_dir=(0, 0, -1))):
        with BuildLine():
            Line((-17.22, -34.98), (-17.78, -34.98))
            ThreePointArc((-17.78, -34.98), (-18.699238816, -35.360761184), (-19.08, -36.28))
            Line((-19.08, -36.28), (-19.08, -42.62))
            ThreePointArc((-19.08, -42.62), (-18.699238816, -43.539238816), (-17.78, -43.92))
            Line((-17.78, -43.92), (-17.22, -43.92))
            ThreePointArc((-17.22, -43.92), (-16.300761184, -43.539238816), (-15.92, -42.62))
            Line((-15.92, -42.62), (-15.92, -36.28))
            ThreePointArc((-15.92, -36.28), (-16.300761184, -35.360761184), (-17.22, -34.98))
        make_face()
    extrude(amount=-BOSS_EXTRUDE10_DEPTH)


with BuildPart() as boss_extrude10_kept_piece:
    # of the separate pieces the step leaves, the one the design keeps (boss_extrude10_pieces_kept)
    add(part.part.solids().sort_by_distance((3.528977758, 0, 2))[0])

    # Draft1
    draft1_faces = [boss_extrude10_kept_piece.faces().sort_by_distance(p)[0] for p in [
        (13.75, -39.45, -3.845),
    ]]
    draft(draft1_faces, Plane.XY.offset(-9.69), DRAFT1_ANGLE)

    # Fillet3
    fillet3_edges = [boss_extrude10_kept_piece.edges().sort_by_distance(p)[0] for p in [
        (13.647975145, -32.95, -3.845),
        (13.647975145, -45.95, -3.845),
        (21.25, -45.95, -3.845),
        (21.25, -32.95, -3.845),
    ]]
    fillet(fillet3_edges, radius=FILLET3_R)

    # Sketch15 → Boss-Extrude11 (add)
    with BuildSketch(Plane(origin=(0, -71.3, 0), x_dir=(1, 0, 0), z_dir=(0, 1, 0))):
        with Locations((-18.17, 17.955)):
            Rectangle(SKETCH15_W, SKETCH15_H)
    extrude(amount=BOSS_EXTRUDE11_DEPTH)

    # Chamfer3
    chamfer3_edges = [boss_extrude10_kept_piece.edges().sort_by_distance(p)[0] for p in [
        (-18.17, -71.3, -15.955),
    ]]
    chamfer3_side = [boss_extrude10_kept_piece.faces().sort_by_distance(p)[0] for p in [
        (-0.757391404, -71.3, -10.745764223),
    ]]
    chamfer(chamfer3_edges, length=CHAMFER3_SIZE, length2=CHAMFER3_SIZE2, reference=chamfer3_side[0])

    # Chamfer4
    chamfer4_edges = [boss_extrude10_kept_piece.edges().sort_by_distance(p)[0] for p in [
        (-18.17, -71.3, -19.955),
    ]]
    chamfer4_side = [boss_extrude10_kept_piece.faces().sort_by_distance(p)[0] for p in [
        (-0.703800708, -71.3, -10.731270632),
    ]]
    chamfer(chamfer4_edges, length=CHAMFER4_SIZE, length2=CHAMFER4_SIZE2, reference=chamfer4_side[0])

    # Sketch16 → Boss-Extrude12 (add)
    with BuildSketch(Plane(origin=(0, 0, 0), x_dir=(-1, 0, 0), z_dir=(0, 0, -1))):
        with Locations((25.575, -69.425)):
            Rectangle(SKETCH16_W, SKETCH16_H)
        with Locations((-25.675, -69.425)):
            Rectangle(SKETCH16_W_2, SKETCH16_H)
        with Locations((25.625, 21.325)):
            Rectangle(SKETCH16_W_3, SKETCH16_H_2)
        with Locations((-25.625, 21.325)):
            Rectangle(SKETCH16_W_3, SKETCH16_H_2)
    extrude(amount=BOSS_EXTRUDE12_DEPTH)

    # Sketch16<4> → Boss-Extrude13 (add)
    with BuildSketch(Plane(origin=(0, 0, 0), x_dir=(-1, 0, 0), z_dir=(0, 0, -1))):
        Polygon((28, -67.8), (26.75, -67.8), (26.75, -71.05), (24.4, -71.05), (24.4, -71.3), (28, -71.3), align=None)
        Polygon((-26.75, -71.05), (-26.75, -67.8), (-28, -67.8), (-28, -71.3), (-24.6, -71.3), (-24.6, -71.05), align=None)
        Polygon((28.5, 20.2), (28.5, 24.2), (24.5, 24.2), (24.5, 22.45), (26.75, 22.45), (26.75, 20.2), align=None)
        Polygon((-24.5, 22.45), (-24.5, 24.2), (-28.5, 24.2), (-28.5, 20.2), (-26.75, 20.2), (-26.75, 22.45), align=None)
    extrude(amount=BOSS_EXTRUDE13_DEPTH)


solid = boss_extrude10_kept_piece.part
